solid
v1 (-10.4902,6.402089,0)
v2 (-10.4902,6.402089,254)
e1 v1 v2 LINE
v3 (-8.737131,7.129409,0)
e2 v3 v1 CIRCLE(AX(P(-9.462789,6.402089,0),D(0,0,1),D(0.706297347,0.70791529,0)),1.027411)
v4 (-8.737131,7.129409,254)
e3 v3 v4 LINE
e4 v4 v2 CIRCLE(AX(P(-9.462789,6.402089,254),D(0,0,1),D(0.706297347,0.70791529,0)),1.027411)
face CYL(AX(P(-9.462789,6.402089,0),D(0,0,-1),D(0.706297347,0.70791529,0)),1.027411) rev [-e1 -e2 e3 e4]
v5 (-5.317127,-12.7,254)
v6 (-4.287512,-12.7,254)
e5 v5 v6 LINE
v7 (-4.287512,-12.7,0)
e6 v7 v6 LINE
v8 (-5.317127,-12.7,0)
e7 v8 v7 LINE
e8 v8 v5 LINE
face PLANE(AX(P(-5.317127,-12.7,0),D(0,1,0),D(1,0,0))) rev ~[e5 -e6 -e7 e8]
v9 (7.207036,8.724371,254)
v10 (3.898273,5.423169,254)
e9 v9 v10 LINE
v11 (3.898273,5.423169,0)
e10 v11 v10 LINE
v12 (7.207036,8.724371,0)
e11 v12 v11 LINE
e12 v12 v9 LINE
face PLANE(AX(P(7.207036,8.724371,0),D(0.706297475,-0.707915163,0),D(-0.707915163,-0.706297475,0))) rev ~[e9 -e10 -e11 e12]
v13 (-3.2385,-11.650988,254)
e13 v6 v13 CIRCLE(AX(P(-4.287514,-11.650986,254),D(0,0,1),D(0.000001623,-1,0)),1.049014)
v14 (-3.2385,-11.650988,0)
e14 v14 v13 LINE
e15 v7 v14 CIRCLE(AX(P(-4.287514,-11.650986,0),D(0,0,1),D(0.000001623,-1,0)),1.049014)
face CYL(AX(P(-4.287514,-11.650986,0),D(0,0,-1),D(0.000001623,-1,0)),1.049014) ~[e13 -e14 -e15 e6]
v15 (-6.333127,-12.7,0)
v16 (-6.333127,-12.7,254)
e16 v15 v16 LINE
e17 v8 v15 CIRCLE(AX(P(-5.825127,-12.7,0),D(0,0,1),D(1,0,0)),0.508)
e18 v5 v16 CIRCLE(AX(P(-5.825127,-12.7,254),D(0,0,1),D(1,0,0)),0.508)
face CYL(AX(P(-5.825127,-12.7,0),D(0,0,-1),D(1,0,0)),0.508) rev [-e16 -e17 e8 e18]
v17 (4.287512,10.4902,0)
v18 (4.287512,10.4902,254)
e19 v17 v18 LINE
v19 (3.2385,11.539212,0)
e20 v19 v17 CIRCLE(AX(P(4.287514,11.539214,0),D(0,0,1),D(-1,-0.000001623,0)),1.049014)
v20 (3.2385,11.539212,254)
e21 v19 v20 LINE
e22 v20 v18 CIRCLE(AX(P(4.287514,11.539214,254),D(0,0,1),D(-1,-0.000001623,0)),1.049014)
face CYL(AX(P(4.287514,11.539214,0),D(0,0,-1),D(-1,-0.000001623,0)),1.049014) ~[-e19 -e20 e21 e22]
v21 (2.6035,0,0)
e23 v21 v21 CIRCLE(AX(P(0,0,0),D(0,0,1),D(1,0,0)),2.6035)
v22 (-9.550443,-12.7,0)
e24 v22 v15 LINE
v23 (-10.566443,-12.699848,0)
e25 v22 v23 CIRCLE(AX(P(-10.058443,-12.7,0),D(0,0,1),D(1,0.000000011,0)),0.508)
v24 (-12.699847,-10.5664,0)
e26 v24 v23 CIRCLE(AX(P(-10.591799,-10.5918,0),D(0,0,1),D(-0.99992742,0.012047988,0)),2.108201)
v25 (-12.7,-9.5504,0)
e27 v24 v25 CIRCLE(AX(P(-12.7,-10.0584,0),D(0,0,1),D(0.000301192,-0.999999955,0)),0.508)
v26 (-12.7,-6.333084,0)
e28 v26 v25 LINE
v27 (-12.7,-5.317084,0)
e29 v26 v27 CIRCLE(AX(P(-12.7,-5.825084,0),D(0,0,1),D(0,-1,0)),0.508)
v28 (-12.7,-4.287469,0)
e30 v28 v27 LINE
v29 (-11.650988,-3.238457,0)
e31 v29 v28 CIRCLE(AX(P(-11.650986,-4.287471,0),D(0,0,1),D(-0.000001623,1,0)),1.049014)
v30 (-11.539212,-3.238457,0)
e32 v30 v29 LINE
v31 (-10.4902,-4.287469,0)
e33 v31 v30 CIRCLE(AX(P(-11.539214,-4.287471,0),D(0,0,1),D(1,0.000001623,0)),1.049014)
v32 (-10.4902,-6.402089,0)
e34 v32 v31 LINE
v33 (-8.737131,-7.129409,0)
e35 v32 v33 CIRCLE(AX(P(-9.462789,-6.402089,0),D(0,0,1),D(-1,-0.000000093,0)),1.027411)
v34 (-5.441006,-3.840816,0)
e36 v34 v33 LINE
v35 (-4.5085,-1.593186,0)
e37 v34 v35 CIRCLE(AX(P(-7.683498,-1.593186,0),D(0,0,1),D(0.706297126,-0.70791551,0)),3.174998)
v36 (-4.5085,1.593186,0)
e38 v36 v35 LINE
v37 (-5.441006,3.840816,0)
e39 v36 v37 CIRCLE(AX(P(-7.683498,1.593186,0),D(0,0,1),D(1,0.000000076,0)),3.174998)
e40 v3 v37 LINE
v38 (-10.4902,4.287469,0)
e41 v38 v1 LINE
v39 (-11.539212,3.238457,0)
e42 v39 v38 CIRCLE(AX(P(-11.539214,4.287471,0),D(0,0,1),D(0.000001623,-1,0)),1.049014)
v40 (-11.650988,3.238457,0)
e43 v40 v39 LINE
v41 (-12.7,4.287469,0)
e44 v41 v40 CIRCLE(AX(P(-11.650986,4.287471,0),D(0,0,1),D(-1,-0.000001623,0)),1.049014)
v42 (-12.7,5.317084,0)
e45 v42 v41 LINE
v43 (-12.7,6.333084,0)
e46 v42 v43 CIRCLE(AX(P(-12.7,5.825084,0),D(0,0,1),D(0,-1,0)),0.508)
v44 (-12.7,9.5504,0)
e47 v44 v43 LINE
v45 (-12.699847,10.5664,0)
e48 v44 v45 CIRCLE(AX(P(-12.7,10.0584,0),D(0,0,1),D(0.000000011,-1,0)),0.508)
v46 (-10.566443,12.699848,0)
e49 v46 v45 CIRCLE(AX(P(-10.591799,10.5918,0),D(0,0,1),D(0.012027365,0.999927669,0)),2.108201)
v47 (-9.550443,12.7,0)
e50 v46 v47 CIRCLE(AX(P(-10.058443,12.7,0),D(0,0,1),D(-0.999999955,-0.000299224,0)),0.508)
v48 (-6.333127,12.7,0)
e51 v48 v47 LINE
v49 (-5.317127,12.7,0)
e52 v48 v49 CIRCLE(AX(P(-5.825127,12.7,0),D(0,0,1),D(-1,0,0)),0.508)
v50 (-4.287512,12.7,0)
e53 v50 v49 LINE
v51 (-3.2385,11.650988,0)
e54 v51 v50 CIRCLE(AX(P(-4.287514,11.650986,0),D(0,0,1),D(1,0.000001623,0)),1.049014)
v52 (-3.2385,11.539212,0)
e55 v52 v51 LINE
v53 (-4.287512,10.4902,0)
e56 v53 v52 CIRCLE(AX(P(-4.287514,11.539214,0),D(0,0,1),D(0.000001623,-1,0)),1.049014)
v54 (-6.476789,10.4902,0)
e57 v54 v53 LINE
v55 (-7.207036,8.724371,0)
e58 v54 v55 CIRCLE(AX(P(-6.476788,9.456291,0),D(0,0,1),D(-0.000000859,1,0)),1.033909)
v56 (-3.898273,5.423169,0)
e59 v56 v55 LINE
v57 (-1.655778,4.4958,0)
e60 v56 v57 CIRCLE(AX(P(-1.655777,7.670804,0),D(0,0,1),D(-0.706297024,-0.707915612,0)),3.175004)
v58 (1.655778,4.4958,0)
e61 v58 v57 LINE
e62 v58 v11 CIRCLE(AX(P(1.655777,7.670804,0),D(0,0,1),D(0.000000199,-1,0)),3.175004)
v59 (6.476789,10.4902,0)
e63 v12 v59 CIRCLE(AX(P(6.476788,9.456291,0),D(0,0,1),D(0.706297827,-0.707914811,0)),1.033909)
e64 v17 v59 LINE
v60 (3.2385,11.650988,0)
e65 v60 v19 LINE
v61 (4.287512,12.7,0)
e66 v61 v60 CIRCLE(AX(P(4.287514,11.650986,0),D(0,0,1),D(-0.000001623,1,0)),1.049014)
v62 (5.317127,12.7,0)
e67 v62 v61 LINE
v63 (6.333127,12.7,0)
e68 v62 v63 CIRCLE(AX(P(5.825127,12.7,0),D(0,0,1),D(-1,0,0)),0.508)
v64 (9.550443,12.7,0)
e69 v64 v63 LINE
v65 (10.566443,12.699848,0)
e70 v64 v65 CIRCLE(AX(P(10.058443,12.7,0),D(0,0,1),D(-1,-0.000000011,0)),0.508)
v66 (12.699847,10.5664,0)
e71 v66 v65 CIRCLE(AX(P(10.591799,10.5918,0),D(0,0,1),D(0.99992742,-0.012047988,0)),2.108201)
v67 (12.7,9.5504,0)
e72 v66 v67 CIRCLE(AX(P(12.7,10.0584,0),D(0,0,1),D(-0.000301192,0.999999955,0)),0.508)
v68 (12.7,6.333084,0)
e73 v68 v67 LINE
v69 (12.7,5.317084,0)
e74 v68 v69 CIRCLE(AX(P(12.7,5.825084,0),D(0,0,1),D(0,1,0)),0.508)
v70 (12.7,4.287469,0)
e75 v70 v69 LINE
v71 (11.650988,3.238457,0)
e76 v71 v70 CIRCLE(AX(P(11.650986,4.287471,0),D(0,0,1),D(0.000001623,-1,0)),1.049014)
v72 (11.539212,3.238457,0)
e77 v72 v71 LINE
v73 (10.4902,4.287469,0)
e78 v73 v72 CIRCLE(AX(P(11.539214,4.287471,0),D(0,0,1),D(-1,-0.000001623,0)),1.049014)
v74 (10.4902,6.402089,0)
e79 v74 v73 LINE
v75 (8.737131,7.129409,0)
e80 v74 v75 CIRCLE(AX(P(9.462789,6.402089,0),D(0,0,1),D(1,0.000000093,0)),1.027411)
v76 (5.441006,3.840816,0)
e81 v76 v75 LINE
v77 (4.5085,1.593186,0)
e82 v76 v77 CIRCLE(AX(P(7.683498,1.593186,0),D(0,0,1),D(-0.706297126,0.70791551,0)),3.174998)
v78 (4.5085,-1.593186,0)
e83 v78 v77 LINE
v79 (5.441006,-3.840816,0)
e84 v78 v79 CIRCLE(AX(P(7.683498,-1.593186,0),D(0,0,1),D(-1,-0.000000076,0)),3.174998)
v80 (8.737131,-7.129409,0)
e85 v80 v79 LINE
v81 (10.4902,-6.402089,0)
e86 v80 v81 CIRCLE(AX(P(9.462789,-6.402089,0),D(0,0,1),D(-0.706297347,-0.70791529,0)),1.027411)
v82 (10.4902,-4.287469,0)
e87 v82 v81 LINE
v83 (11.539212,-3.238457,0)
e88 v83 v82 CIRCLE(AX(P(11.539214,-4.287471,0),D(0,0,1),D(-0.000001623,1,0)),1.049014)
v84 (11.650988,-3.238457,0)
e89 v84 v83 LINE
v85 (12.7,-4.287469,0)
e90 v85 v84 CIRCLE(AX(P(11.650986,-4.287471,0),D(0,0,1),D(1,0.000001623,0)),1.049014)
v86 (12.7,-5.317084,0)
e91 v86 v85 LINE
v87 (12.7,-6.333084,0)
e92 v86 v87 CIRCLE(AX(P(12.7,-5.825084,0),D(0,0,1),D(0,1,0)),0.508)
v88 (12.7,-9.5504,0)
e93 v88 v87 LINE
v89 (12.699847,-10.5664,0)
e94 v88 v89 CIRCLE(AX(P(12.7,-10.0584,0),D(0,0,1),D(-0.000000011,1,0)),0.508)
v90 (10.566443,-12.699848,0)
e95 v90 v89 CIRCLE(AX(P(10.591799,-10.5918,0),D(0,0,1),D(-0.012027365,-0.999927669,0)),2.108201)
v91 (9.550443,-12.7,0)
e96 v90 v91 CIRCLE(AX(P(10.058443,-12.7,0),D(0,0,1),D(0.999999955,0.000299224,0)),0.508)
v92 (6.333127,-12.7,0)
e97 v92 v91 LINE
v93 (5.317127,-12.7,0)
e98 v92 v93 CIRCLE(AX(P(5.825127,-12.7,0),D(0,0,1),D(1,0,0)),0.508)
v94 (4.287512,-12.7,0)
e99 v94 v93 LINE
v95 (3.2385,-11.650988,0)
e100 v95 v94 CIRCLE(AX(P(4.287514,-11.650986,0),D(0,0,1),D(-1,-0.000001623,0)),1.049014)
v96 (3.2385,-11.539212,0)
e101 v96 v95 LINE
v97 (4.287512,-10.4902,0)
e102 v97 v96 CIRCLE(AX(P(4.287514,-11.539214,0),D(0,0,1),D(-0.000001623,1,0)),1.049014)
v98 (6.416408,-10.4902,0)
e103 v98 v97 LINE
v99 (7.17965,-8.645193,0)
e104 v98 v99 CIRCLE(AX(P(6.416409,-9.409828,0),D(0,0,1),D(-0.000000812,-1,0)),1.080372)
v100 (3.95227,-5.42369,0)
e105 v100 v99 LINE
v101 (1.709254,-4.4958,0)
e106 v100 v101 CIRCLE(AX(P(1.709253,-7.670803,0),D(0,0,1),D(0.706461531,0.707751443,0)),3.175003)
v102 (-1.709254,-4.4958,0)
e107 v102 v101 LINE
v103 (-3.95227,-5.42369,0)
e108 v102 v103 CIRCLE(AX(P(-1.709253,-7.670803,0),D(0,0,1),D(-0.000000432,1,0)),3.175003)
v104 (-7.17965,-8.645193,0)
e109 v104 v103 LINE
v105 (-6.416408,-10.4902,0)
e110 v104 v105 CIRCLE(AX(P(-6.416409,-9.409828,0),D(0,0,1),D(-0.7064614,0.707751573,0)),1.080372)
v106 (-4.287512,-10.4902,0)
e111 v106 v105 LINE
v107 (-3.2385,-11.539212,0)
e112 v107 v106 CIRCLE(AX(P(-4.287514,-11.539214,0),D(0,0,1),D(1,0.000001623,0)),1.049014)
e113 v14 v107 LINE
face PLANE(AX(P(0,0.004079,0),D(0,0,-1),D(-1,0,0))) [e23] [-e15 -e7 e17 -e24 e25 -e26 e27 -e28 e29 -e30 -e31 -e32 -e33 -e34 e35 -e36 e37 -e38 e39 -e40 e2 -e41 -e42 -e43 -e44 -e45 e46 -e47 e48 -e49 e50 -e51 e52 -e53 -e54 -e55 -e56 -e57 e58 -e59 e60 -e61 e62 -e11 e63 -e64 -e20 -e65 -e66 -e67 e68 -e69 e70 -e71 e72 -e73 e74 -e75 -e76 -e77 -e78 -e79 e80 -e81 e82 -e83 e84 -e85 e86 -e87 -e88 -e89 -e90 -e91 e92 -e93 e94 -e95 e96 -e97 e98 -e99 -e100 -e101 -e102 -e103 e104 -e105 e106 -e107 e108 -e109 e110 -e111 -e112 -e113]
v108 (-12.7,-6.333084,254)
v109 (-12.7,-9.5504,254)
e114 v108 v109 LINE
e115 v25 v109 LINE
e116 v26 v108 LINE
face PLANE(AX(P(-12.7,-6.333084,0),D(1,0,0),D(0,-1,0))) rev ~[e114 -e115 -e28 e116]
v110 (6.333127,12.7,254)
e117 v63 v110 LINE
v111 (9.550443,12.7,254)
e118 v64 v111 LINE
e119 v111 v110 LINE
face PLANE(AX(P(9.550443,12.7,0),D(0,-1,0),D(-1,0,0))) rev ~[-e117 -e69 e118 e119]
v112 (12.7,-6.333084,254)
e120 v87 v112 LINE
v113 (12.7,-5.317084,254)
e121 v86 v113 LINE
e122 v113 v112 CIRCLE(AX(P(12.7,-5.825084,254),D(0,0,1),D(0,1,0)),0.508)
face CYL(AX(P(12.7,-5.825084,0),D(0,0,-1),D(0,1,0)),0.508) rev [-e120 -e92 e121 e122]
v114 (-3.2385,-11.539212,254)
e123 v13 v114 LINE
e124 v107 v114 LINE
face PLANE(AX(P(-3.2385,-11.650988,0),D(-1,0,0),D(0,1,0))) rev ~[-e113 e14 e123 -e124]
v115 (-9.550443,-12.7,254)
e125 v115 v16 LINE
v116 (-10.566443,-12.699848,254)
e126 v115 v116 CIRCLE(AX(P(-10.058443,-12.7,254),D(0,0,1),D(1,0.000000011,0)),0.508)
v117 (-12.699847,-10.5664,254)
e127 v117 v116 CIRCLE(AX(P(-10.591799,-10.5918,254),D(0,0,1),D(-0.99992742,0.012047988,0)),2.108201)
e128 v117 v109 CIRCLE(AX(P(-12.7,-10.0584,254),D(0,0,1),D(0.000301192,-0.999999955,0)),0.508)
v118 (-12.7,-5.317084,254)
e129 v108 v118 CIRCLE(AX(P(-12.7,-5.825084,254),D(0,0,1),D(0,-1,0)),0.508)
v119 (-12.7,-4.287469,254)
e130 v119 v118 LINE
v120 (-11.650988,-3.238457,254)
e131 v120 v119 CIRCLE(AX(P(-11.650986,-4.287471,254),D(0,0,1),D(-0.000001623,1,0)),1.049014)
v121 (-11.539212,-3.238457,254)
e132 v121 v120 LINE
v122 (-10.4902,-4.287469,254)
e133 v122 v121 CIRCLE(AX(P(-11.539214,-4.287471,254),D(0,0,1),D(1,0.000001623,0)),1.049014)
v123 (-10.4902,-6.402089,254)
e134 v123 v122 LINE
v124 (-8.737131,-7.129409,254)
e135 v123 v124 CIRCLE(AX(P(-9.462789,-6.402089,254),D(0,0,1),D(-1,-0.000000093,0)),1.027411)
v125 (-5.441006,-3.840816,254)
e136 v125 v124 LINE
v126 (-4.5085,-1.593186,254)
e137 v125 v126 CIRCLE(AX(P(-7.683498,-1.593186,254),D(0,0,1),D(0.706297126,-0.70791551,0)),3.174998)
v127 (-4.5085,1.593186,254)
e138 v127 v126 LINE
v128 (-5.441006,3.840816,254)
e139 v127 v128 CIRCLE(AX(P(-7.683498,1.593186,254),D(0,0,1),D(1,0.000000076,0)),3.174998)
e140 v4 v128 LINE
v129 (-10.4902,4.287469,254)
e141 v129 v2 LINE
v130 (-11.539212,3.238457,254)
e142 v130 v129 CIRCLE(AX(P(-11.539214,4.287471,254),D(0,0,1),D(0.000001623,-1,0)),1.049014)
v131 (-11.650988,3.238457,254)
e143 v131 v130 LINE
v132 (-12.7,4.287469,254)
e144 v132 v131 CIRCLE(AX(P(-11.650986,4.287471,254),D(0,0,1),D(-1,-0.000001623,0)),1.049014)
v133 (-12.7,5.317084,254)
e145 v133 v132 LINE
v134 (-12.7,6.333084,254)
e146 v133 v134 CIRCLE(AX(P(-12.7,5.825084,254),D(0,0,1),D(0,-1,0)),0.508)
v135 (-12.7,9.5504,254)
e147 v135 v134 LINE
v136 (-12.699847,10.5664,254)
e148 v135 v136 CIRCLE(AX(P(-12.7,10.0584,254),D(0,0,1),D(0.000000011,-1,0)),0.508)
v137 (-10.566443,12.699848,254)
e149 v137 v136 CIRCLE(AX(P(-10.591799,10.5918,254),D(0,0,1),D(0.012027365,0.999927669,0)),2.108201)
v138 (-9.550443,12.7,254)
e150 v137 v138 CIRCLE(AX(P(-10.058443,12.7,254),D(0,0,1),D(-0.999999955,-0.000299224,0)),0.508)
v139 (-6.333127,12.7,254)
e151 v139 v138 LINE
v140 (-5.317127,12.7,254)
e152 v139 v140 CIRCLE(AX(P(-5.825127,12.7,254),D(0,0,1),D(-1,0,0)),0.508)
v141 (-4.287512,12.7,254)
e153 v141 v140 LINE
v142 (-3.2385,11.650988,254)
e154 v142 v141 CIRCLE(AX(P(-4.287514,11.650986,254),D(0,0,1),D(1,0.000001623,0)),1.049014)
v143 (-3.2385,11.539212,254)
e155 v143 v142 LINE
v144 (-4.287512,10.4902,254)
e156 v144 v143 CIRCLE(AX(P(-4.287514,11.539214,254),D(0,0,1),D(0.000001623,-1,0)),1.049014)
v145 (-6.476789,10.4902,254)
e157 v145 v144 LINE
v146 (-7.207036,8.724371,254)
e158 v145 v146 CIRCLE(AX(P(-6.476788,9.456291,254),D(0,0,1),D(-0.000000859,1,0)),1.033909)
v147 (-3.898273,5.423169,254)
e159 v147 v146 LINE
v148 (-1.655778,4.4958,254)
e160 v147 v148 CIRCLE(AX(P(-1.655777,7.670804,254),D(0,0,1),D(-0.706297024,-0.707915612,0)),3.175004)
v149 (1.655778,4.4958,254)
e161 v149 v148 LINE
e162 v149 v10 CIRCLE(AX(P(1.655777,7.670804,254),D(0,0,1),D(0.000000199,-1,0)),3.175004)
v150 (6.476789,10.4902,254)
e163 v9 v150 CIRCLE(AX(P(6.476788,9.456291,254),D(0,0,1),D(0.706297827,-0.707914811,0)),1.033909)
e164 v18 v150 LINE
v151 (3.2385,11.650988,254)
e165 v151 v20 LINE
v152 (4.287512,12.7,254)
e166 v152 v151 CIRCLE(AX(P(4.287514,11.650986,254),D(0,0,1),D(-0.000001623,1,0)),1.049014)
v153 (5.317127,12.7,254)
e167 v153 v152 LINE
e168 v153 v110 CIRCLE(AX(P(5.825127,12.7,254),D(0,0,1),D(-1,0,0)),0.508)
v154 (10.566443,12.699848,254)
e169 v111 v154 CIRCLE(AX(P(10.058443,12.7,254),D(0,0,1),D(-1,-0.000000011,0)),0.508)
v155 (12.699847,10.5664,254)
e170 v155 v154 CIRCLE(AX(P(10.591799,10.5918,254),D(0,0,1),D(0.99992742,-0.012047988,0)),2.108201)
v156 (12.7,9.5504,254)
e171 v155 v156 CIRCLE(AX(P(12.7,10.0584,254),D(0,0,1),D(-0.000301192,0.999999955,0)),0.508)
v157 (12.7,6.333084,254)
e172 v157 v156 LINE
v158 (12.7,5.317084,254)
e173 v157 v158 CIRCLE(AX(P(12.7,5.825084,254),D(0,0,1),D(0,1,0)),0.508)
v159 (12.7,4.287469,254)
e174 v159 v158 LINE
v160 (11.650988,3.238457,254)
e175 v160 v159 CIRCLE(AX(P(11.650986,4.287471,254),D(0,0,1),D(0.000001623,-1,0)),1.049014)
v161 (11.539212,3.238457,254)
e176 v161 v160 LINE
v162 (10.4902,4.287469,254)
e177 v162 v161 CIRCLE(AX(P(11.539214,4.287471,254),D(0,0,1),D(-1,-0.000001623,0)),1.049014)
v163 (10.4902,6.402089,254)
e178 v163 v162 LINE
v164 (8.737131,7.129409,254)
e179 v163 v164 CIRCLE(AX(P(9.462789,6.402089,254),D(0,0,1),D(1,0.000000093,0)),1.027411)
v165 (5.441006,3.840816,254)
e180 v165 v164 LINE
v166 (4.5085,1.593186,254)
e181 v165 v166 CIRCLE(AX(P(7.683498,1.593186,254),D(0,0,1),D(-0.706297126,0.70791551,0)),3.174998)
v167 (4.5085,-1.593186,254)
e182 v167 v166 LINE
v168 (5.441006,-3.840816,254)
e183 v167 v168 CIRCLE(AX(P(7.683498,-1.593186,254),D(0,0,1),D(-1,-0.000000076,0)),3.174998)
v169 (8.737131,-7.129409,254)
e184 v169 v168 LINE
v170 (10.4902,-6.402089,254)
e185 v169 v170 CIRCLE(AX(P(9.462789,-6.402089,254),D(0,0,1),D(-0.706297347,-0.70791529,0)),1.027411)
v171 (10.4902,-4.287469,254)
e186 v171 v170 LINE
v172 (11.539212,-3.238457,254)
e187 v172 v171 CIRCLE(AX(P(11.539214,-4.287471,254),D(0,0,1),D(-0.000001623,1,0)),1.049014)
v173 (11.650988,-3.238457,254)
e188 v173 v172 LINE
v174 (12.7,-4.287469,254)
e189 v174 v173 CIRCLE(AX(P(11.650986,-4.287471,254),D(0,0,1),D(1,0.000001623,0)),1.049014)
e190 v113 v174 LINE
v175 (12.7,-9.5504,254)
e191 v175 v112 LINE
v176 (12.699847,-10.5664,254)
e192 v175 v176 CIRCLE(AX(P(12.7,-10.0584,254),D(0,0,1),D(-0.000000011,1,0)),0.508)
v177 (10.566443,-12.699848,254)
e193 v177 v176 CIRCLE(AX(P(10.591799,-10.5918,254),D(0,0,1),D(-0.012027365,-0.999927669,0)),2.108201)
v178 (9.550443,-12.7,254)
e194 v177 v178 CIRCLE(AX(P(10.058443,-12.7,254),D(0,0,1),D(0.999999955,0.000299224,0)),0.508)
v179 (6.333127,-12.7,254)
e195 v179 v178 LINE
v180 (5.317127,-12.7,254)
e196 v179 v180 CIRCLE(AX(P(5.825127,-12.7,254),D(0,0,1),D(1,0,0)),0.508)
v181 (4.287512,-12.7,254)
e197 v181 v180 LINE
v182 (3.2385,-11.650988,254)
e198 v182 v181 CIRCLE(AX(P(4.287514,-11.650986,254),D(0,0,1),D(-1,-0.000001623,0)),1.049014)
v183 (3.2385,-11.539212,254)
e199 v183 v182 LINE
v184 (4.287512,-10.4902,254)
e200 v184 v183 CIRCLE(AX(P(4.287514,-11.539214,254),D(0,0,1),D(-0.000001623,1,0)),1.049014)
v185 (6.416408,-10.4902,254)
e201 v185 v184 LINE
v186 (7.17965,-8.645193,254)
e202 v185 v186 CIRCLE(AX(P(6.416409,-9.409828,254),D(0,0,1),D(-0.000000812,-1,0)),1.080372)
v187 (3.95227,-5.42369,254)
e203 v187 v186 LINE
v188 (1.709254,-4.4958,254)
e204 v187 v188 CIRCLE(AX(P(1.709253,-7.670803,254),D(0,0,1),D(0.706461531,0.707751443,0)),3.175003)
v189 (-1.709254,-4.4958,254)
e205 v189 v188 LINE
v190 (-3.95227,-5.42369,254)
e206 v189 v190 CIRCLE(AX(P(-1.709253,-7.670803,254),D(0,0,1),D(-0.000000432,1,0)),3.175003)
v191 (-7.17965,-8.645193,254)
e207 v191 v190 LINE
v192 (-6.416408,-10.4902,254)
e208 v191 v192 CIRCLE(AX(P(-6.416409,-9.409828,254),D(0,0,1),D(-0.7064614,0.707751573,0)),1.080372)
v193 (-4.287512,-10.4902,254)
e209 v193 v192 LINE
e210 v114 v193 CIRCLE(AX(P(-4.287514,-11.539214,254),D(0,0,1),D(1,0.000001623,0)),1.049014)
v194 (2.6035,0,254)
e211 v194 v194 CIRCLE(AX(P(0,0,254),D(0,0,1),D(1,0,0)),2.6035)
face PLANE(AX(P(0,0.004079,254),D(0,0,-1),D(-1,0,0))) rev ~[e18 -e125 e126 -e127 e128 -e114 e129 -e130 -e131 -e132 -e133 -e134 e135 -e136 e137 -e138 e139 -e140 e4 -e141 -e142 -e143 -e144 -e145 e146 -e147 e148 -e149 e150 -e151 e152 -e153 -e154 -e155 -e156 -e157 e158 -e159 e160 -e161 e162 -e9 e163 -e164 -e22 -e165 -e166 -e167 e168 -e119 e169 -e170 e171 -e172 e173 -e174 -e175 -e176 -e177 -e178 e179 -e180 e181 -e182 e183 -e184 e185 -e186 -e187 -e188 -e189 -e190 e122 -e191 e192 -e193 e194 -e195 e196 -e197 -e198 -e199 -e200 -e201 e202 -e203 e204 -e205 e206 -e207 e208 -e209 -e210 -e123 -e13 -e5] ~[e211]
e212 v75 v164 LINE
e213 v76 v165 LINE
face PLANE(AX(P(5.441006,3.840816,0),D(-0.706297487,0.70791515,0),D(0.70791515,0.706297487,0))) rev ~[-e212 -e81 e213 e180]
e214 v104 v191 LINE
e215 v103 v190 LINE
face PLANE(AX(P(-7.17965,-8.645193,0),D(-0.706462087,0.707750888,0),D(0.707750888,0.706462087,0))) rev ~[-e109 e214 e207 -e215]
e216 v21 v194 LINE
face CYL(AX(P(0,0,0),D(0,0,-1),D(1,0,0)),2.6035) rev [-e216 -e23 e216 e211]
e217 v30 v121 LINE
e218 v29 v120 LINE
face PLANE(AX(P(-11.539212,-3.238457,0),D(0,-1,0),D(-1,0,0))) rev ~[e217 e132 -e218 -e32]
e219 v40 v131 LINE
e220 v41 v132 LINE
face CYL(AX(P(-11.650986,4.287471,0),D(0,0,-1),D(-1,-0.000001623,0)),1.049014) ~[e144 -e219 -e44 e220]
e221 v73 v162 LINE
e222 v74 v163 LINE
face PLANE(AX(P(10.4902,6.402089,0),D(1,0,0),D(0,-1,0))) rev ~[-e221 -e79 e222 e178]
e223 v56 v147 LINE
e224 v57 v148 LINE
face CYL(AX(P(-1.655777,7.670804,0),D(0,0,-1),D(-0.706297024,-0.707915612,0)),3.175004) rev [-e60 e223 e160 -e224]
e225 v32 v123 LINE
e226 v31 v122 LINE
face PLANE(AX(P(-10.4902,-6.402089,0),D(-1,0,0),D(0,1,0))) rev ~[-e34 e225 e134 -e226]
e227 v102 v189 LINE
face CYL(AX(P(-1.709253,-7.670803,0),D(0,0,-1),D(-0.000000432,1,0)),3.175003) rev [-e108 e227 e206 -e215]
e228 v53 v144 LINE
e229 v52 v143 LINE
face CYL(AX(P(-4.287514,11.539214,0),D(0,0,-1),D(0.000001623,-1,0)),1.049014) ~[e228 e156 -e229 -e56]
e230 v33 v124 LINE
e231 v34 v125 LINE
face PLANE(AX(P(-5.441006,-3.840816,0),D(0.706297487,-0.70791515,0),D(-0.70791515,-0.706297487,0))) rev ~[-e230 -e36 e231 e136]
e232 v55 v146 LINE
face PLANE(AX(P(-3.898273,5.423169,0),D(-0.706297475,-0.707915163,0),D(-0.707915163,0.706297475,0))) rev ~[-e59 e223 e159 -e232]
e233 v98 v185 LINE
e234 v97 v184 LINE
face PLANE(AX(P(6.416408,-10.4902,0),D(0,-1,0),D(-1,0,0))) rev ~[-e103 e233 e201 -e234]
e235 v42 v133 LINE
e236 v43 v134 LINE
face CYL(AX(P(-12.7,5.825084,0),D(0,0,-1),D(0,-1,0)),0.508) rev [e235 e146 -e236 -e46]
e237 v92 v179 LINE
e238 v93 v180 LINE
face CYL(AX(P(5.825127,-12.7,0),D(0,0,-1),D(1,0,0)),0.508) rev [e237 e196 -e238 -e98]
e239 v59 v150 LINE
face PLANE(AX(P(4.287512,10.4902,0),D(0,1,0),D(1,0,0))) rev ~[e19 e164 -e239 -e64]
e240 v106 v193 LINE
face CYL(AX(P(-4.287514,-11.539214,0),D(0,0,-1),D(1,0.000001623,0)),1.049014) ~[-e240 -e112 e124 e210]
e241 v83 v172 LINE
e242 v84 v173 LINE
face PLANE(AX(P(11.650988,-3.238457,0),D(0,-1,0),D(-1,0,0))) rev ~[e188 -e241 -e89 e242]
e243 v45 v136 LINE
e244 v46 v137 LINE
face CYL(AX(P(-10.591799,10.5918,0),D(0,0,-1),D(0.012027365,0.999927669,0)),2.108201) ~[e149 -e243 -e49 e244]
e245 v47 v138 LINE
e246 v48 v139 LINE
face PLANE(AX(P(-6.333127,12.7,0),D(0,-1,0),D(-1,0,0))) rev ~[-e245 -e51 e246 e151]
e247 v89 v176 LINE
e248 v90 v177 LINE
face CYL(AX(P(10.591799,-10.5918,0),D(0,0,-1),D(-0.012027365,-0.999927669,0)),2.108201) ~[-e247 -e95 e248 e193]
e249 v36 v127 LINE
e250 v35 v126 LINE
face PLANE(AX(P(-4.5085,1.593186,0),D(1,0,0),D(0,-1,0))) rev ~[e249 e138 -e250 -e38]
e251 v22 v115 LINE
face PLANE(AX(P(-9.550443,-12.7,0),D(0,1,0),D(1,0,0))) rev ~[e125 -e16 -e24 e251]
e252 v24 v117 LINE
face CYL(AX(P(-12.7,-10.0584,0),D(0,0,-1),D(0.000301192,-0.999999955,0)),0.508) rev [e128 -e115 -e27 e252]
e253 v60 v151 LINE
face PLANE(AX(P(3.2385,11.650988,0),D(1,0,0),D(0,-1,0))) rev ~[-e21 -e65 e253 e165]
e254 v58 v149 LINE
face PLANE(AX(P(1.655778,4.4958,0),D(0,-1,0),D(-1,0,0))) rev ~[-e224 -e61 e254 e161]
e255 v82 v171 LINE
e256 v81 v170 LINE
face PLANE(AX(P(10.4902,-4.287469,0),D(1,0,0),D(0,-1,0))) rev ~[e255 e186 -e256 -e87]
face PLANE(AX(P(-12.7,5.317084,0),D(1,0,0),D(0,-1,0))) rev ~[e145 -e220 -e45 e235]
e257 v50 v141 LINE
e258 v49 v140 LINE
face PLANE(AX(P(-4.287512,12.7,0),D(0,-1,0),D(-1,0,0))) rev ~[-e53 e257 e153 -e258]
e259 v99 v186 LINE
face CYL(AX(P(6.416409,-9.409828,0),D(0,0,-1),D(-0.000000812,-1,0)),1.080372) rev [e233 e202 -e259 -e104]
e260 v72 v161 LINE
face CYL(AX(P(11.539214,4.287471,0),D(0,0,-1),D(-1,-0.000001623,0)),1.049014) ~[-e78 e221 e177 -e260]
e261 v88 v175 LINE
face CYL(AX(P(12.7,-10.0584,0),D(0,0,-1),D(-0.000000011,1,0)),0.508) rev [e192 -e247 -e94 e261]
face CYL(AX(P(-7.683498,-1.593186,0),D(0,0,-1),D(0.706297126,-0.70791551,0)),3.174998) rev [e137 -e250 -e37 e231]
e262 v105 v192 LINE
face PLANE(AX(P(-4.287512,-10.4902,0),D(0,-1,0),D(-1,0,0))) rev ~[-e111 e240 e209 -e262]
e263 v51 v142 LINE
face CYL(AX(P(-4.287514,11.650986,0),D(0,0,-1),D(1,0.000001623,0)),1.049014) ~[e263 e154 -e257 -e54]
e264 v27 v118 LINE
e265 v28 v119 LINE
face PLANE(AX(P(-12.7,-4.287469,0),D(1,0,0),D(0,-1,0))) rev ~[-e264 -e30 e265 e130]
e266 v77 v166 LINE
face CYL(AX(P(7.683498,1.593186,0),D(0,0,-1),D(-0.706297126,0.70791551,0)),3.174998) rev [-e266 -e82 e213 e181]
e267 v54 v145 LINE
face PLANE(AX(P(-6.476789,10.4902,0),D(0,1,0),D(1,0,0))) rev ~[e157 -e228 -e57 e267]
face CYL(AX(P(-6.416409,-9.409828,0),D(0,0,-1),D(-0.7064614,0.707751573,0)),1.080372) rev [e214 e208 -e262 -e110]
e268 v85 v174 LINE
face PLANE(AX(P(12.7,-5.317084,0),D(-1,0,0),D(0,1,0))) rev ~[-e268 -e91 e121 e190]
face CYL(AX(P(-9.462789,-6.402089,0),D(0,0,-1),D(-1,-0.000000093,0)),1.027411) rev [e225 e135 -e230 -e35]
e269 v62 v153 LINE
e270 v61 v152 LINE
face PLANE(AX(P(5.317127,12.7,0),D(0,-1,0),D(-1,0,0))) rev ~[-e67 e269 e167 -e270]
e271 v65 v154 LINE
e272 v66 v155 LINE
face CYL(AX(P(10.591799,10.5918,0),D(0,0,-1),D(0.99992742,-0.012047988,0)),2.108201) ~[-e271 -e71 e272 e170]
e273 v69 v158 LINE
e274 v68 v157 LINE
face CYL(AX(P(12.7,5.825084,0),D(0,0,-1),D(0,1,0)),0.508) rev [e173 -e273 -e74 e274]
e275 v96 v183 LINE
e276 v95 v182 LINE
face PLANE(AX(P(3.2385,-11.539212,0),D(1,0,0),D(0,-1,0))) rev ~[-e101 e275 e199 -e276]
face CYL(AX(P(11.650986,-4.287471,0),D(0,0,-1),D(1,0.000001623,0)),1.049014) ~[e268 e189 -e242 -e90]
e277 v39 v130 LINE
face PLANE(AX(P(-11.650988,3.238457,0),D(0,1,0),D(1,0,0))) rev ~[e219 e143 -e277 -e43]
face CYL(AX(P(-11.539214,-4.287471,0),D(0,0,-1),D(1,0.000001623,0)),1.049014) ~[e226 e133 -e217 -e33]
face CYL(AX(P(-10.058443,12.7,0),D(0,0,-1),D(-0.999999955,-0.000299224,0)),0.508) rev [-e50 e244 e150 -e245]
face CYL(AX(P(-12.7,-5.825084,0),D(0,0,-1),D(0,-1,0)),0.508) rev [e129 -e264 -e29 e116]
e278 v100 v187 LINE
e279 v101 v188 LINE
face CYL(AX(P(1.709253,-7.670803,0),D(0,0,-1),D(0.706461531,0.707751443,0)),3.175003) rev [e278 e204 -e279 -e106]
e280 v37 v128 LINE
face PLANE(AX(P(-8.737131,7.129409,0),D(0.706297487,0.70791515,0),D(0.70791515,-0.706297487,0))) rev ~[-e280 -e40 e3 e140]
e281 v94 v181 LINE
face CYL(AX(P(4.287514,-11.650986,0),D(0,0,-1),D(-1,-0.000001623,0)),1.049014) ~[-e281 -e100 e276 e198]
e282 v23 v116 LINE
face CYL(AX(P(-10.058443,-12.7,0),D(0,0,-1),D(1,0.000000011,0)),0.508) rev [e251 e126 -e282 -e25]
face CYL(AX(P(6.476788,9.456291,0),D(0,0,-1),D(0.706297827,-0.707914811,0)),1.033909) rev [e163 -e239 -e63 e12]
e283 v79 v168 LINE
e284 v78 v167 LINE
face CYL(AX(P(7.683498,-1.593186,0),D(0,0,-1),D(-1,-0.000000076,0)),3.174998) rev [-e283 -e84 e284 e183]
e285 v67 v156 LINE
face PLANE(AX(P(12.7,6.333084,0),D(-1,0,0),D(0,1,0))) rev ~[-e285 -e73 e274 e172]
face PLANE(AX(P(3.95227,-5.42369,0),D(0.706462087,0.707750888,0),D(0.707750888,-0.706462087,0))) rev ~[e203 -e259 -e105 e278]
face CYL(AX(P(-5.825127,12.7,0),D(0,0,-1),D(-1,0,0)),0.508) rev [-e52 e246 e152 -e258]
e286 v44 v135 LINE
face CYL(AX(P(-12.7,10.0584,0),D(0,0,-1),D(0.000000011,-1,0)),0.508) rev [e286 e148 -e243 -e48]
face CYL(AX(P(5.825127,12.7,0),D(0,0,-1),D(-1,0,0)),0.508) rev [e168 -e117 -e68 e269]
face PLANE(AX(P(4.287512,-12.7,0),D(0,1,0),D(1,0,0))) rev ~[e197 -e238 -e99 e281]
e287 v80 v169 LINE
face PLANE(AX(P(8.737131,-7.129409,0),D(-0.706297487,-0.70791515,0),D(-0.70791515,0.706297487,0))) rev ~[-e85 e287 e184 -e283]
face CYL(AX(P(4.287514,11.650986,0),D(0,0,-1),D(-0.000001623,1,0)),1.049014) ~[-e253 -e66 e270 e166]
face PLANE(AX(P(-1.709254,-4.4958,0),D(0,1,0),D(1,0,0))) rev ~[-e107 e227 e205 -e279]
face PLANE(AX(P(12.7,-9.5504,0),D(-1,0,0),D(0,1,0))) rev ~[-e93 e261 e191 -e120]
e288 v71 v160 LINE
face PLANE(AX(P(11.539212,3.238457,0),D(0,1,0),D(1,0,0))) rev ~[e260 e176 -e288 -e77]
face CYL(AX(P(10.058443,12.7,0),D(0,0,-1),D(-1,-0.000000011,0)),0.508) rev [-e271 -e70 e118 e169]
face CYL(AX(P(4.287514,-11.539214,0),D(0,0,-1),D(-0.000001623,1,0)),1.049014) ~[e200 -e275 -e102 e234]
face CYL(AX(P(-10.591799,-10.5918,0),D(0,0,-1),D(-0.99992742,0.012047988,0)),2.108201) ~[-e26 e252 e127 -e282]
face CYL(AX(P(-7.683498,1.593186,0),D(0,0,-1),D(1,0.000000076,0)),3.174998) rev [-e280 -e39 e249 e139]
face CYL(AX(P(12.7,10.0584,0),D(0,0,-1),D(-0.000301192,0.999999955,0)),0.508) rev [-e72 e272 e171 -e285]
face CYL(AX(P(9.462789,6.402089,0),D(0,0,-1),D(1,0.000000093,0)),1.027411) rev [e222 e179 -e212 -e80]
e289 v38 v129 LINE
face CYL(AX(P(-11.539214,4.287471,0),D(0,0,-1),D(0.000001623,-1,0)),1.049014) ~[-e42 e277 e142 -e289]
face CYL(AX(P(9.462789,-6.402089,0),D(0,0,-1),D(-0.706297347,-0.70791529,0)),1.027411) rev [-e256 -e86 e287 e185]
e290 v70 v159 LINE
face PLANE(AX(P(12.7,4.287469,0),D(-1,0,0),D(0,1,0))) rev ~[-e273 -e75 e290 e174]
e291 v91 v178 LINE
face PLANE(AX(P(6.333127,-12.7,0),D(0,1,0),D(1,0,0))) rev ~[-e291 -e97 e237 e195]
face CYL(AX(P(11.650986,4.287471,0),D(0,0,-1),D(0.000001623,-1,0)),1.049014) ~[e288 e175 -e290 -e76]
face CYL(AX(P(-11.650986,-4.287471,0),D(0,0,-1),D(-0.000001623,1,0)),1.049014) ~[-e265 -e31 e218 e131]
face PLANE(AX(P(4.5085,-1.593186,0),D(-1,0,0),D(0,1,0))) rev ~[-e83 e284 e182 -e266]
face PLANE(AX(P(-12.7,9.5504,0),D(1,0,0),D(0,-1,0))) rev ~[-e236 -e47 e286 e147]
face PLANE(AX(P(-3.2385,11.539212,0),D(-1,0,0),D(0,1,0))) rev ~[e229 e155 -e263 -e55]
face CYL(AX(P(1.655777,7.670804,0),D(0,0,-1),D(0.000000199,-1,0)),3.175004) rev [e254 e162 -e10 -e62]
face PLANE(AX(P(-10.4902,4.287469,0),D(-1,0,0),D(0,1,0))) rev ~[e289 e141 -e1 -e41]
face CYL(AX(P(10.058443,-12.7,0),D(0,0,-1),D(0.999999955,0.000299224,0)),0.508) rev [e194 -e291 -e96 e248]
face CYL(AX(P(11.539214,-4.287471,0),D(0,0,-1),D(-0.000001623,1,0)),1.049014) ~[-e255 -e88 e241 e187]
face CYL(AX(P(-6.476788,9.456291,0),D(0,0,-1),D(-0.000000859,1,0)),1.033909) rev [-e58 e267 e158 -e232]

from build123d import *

# Parameters (mm, degrees)
SKETCH097_R   = 2.6035
EXTRUDE_DEPTH = 254


with BuildPart() as part:
    # Sketch097 → Extrude (new body)
    with BuildSketch(Plane.XY):
        with BuildLine():
            ThreePointArc((12.7, 6.333084), (12.192, 5.825084), (12.7, 5.317084))
            Line((12.7, 4.287469), (12.7, 5.317084))
            ThreePointArc((11.650988, 3.238457), (12.392751, 3.545706), (12.7, 4.287469))
            Line((11.539212, 3.238457), (11.650988, 3.238457))
            ThreePointArc((10.4902, 4.287469), (10.797449, 3.545706), (11.539212, 3.238457))
            Line((10.4902, 6.402089), (10.4902, 4.287469))
            ThreePointArc((10.4902, 6.402089), (9.856505, 7.351068), (8.737131, 7.129409))
            Line((5.441006, 3.840816), (8.737131, 7.129409))
            ThreePointArc((5.441006, 3.840816), (4.750878, 2.809883), (4.5085, 1.593186))
            Line((4.5085, -1.593186), (4.5085, 1.593186))
            ThreePointArc((4.5085, -1.593186), (4.750878, -2.809883), (5.441006, -3.840816))
            Line((8.737131, -7.129409), (5.441006, -3.840816))
            ThreePointArc((8.737131, -7.129409), (9.856505, -7.351068), (10.4902, -6.402089))
            Line((10.4902, -4.287469), (10.4902, -6.402089))
            ThreePointArc((11.539212, -3.238457), (10.797449, -3.545706), (10.4902, -4.287469))
            Line((11.650988, -3.238457), (11.539212, -3.238457))
            ThreePointArc((12.7, -4.287469), (12.392751, -3.545706), (11.650988, -3.238457))
            Line((12.7, -5.317084), (12.7, -4.287469))
            ThreePointArc((12.7, -5.317084), (12.192, -5.825084), (12.7, -6.333084))
            Line((12.7, -9.5504), (12.7, -6.333084))
            ThreePointArc((12.7, -9.5504), (12.192, -10.058323), (12.699847, -10.5664))
            ThreePointArc((10.566443, -12.699848), (12.082538, -12.082507), (12.699847, -10.5664))
            ThreePointArc((10.566443, -12.699848), (10.058367, -12.192), (9.550443, -12.7))
            Line((6.333127, -12.7), (9.550443, -12.7))
            ThreePointArc((6.333127, -12.7), (5.825127, -12.192), (5.317127, -12.7))
            Line((4.287512, -12.7), (5.317127, -12.7))
            ThreePointArc((3.2385, -11.650988), (3.545749, -12.392751), (4.287512, -12.7))
            Line((3.2385, -11.539212), (3.2385, -11.650988))
            ThreePointArc((4.287512, -10.4902), (3.545749, -10.797449), (3.2385, -11.539212))
            Line((6.416408, -10.4902), (4.287512, -10.4902))
            ThreePointArc((6.416408, -10.4902), (7.414731, -9.822813), (7.17965, -8.645193))
            Line((3.95227, -5.42369), (7.17965, -8.645193))
            ThreePointArc((3.95227, -5.42369), (2.922936, -4.736929), (1.709254, -4.4958))
            Line((-1.709254, -4.4958), (1.709254, -4.4958))
            ThreePointArc((-1.709254, -4.4958), (-2.922936, -4.736929), (-3.95227, -5.42369))
            Line((-7.17965, -8.645193), (-3.95227, -5.42369))
            ThreePointArc((-7.17965, -8.645193), (-7.414731, -9.822813), (-6.416408, -10.4902))
            Line((-4.287512, -10.4902), (-6.416408, -10.4902))
            ThreePointArc((-3.2385, -11.539212), (-3.545749, -10.797449), (-4.287512, -10.4902))
            Line((-3.2385, -11.650988), (-3.2385, -11.539212))
            ThreePointArc((-4.287512, -12.7), (-3.545749, -12.392751), (-3.2385, -11.650988))
            Line((-5.317127, -12.7), (-4.287512, -12.7))
            ThreePointArc((-5.317127, -12.7), (-5.825127, -12.192), (-6.333127, -12.7))
            Line((-9.550443, -12.7), (-6.333127, -12.7))
            ThreePointArc((-9.550443, -12.7), (-10.058367, -12.192), (-10.566443, -12.699848))
            ThreePointArc((-12.699847, -10.5664), (-12.082538, -12.082507), (-10.566443, -12.699848))
            ThreePointArc((-12.699847, -10.5664), (-12.192, -10.058323), (-12.7, -9.5504))
            Line((-12.7, -6.333084), (-12.7, -9.5504))
            ThreePointArc((-12.7, -6.333084), (-12.192, -5.825084), (-12.7, -5.317084))
            Line((-12.7, -4.287469), (-12.7, -5.317084))
            ThreePointArc((-11.650988, -3.238457), (-12.392751, -3.545706), (-12.7, -4.287469))
            Line((-11.539212, -3.238457), (-11.650988, -3.238457))
            ThreePointArc((-10.4902, -4.287469), (-10.797449, -3.545706), (-11.539212, -3.238457))
            Line((-10.4902, -6.402089), (-10.4902, -4.287469))
            ThreePointArc((-10.4902, -6.402089), (-9.856505, -7.351068), (-8.737131, -7.129409))
            Line((-5.441006, -3.840816), (-8.737131, -7.129409))
            ThreePointArc((-5.441006, -3.840816), (-4.750878, -2.809883), (-4.5085, -1.593186))
            Line((-4.5085, 1.593186), (-4.5085, -1.593186))
            ThreePointArc((-4.5085, 1.593186), (-4.750878, 2.809883), (-5.441006, 3.840816))
            Line((-8.737131, 7.129409), (-5.441006, 3.840816))
            ThreePointArc((-8.737131, 7.129409), (-9.856505, 7.351068), (-10.4902, 6.402089))
            Line((-10.4902, 4.287469), (-10.4902, 6.402089))
            ThreePointArc((-11.539212, 3.238457), (-10.797449, 3.545706), (-10.4902, 4.287469))
            Line((-11.650988, 3.238457), (-11.539212, 3.238457))
            ThreePointArc((-12.7, 4.287469), (-12.392751, 3.545706), (-11.650988, 3.238457))
            Line((-12.7, 5.317084), (-12.7, 4.287469))
            ThreePointArc((-12.7, 5.317084), (-12.192, 5.825084), (-12.7, 6.333084))
            Line((-12.7, 9.5504), (-12.7, 6.333084))
            ThreePointArc((-12.7, 9.5504), (-12.192, 10.058323), (-12.699847, 10.5664))
            ThreePointArc((-10.566443, 12.699848), (-12.082538, 12.082507), (-12.699847, 10.5664))
            ThreePointArc((-10.566443, 12.699848), (-10.058367, 12.192), (-9.550443, 12.7))
            Line((-6.333127, 12.7), (-9.550443, 12.7))
            ThreePointArc((-6.333127, 12.7), (-5.825127, 12.192), (-5.317127, 12.7))
            Line((-4.287512, 12.7), (-5.317127, 12.7))
            ThreePointArc((-3.2385, 11.650988), (-3.545749, 12.392751), (-4.287512, 12.7))
            Line((-3.2385, 11.539212), (-3.2385, 11.650988))
            ThreePointArc((-4.287512, 10.4902), (-3.545749, 10.797449), (-3.2385, 11.539212))
            Line((-6.476789, 10.4902), (-4.287512, 10.4902))
            ThreePointArc((-6.476789, 10.4902), (-7.432222, 9.851404), (-7.207036, 8.724371))
            Line((-3.898273, 5.423169), (-7.207036, 8.724371))
            ThreePointArc((-3.898273, 5.423169), (-2.86912, 4.736788), (-1.655778, 4.4958))
            Line((1.655778, 4.4958), (-1.655778, 4.4958))
            ThreePointArc((1.655778, 4.4958), (2.86912, 4.736788), (3.898273, 5.423169))
            Line((7.207036, 8.724371), (3.898273, 5.423169))
            ThreePointArc((7.207036, 8.724371), (7.432222, 9.851404), (6.476789, 10.4902))
            Line((4.287512, 10.4902), (6.476789, 10.4902))
            ThreePointArc((3.2385, 11.539212), (3.545749, 10.797449), (4.287512, 10.4902))
            Line((3.2385, 11.650988), (3.2385, 11.539212))
            ThreePointArc((4.287512, 12.7), (3.545749, 12.392751), (3.2385, 11.650988))
            Line((5.317127, 12.7), (4.287512, 12.7))
            ThreePointArc((5.317127, 12.7), (5.825127, 12.192), (6.333127, 12.7))
            Line((9.550443, 12.7), (6.333127, 12.7))
            ThreePointArc((9.550443, 12.7), (10.058367, 12.192), (10.566443, 12.699848))
            ThreePointArc((12.699847, 10.5664), (12.082538, 12.082507), (10.566443, 12.699848))
            ThreePointArc((12.699847, 10.5664), (12.192, 10.058323), (12.7, 9.5504))
            Line((12.7, 6.333084), (12.7, 9.5504))
        make_face()
        Circle(SKETCH097_R, mode=Mode.SUBTRACT)
    extrude(amount=EXTRUDE_DEPTH)


solid = part.part
